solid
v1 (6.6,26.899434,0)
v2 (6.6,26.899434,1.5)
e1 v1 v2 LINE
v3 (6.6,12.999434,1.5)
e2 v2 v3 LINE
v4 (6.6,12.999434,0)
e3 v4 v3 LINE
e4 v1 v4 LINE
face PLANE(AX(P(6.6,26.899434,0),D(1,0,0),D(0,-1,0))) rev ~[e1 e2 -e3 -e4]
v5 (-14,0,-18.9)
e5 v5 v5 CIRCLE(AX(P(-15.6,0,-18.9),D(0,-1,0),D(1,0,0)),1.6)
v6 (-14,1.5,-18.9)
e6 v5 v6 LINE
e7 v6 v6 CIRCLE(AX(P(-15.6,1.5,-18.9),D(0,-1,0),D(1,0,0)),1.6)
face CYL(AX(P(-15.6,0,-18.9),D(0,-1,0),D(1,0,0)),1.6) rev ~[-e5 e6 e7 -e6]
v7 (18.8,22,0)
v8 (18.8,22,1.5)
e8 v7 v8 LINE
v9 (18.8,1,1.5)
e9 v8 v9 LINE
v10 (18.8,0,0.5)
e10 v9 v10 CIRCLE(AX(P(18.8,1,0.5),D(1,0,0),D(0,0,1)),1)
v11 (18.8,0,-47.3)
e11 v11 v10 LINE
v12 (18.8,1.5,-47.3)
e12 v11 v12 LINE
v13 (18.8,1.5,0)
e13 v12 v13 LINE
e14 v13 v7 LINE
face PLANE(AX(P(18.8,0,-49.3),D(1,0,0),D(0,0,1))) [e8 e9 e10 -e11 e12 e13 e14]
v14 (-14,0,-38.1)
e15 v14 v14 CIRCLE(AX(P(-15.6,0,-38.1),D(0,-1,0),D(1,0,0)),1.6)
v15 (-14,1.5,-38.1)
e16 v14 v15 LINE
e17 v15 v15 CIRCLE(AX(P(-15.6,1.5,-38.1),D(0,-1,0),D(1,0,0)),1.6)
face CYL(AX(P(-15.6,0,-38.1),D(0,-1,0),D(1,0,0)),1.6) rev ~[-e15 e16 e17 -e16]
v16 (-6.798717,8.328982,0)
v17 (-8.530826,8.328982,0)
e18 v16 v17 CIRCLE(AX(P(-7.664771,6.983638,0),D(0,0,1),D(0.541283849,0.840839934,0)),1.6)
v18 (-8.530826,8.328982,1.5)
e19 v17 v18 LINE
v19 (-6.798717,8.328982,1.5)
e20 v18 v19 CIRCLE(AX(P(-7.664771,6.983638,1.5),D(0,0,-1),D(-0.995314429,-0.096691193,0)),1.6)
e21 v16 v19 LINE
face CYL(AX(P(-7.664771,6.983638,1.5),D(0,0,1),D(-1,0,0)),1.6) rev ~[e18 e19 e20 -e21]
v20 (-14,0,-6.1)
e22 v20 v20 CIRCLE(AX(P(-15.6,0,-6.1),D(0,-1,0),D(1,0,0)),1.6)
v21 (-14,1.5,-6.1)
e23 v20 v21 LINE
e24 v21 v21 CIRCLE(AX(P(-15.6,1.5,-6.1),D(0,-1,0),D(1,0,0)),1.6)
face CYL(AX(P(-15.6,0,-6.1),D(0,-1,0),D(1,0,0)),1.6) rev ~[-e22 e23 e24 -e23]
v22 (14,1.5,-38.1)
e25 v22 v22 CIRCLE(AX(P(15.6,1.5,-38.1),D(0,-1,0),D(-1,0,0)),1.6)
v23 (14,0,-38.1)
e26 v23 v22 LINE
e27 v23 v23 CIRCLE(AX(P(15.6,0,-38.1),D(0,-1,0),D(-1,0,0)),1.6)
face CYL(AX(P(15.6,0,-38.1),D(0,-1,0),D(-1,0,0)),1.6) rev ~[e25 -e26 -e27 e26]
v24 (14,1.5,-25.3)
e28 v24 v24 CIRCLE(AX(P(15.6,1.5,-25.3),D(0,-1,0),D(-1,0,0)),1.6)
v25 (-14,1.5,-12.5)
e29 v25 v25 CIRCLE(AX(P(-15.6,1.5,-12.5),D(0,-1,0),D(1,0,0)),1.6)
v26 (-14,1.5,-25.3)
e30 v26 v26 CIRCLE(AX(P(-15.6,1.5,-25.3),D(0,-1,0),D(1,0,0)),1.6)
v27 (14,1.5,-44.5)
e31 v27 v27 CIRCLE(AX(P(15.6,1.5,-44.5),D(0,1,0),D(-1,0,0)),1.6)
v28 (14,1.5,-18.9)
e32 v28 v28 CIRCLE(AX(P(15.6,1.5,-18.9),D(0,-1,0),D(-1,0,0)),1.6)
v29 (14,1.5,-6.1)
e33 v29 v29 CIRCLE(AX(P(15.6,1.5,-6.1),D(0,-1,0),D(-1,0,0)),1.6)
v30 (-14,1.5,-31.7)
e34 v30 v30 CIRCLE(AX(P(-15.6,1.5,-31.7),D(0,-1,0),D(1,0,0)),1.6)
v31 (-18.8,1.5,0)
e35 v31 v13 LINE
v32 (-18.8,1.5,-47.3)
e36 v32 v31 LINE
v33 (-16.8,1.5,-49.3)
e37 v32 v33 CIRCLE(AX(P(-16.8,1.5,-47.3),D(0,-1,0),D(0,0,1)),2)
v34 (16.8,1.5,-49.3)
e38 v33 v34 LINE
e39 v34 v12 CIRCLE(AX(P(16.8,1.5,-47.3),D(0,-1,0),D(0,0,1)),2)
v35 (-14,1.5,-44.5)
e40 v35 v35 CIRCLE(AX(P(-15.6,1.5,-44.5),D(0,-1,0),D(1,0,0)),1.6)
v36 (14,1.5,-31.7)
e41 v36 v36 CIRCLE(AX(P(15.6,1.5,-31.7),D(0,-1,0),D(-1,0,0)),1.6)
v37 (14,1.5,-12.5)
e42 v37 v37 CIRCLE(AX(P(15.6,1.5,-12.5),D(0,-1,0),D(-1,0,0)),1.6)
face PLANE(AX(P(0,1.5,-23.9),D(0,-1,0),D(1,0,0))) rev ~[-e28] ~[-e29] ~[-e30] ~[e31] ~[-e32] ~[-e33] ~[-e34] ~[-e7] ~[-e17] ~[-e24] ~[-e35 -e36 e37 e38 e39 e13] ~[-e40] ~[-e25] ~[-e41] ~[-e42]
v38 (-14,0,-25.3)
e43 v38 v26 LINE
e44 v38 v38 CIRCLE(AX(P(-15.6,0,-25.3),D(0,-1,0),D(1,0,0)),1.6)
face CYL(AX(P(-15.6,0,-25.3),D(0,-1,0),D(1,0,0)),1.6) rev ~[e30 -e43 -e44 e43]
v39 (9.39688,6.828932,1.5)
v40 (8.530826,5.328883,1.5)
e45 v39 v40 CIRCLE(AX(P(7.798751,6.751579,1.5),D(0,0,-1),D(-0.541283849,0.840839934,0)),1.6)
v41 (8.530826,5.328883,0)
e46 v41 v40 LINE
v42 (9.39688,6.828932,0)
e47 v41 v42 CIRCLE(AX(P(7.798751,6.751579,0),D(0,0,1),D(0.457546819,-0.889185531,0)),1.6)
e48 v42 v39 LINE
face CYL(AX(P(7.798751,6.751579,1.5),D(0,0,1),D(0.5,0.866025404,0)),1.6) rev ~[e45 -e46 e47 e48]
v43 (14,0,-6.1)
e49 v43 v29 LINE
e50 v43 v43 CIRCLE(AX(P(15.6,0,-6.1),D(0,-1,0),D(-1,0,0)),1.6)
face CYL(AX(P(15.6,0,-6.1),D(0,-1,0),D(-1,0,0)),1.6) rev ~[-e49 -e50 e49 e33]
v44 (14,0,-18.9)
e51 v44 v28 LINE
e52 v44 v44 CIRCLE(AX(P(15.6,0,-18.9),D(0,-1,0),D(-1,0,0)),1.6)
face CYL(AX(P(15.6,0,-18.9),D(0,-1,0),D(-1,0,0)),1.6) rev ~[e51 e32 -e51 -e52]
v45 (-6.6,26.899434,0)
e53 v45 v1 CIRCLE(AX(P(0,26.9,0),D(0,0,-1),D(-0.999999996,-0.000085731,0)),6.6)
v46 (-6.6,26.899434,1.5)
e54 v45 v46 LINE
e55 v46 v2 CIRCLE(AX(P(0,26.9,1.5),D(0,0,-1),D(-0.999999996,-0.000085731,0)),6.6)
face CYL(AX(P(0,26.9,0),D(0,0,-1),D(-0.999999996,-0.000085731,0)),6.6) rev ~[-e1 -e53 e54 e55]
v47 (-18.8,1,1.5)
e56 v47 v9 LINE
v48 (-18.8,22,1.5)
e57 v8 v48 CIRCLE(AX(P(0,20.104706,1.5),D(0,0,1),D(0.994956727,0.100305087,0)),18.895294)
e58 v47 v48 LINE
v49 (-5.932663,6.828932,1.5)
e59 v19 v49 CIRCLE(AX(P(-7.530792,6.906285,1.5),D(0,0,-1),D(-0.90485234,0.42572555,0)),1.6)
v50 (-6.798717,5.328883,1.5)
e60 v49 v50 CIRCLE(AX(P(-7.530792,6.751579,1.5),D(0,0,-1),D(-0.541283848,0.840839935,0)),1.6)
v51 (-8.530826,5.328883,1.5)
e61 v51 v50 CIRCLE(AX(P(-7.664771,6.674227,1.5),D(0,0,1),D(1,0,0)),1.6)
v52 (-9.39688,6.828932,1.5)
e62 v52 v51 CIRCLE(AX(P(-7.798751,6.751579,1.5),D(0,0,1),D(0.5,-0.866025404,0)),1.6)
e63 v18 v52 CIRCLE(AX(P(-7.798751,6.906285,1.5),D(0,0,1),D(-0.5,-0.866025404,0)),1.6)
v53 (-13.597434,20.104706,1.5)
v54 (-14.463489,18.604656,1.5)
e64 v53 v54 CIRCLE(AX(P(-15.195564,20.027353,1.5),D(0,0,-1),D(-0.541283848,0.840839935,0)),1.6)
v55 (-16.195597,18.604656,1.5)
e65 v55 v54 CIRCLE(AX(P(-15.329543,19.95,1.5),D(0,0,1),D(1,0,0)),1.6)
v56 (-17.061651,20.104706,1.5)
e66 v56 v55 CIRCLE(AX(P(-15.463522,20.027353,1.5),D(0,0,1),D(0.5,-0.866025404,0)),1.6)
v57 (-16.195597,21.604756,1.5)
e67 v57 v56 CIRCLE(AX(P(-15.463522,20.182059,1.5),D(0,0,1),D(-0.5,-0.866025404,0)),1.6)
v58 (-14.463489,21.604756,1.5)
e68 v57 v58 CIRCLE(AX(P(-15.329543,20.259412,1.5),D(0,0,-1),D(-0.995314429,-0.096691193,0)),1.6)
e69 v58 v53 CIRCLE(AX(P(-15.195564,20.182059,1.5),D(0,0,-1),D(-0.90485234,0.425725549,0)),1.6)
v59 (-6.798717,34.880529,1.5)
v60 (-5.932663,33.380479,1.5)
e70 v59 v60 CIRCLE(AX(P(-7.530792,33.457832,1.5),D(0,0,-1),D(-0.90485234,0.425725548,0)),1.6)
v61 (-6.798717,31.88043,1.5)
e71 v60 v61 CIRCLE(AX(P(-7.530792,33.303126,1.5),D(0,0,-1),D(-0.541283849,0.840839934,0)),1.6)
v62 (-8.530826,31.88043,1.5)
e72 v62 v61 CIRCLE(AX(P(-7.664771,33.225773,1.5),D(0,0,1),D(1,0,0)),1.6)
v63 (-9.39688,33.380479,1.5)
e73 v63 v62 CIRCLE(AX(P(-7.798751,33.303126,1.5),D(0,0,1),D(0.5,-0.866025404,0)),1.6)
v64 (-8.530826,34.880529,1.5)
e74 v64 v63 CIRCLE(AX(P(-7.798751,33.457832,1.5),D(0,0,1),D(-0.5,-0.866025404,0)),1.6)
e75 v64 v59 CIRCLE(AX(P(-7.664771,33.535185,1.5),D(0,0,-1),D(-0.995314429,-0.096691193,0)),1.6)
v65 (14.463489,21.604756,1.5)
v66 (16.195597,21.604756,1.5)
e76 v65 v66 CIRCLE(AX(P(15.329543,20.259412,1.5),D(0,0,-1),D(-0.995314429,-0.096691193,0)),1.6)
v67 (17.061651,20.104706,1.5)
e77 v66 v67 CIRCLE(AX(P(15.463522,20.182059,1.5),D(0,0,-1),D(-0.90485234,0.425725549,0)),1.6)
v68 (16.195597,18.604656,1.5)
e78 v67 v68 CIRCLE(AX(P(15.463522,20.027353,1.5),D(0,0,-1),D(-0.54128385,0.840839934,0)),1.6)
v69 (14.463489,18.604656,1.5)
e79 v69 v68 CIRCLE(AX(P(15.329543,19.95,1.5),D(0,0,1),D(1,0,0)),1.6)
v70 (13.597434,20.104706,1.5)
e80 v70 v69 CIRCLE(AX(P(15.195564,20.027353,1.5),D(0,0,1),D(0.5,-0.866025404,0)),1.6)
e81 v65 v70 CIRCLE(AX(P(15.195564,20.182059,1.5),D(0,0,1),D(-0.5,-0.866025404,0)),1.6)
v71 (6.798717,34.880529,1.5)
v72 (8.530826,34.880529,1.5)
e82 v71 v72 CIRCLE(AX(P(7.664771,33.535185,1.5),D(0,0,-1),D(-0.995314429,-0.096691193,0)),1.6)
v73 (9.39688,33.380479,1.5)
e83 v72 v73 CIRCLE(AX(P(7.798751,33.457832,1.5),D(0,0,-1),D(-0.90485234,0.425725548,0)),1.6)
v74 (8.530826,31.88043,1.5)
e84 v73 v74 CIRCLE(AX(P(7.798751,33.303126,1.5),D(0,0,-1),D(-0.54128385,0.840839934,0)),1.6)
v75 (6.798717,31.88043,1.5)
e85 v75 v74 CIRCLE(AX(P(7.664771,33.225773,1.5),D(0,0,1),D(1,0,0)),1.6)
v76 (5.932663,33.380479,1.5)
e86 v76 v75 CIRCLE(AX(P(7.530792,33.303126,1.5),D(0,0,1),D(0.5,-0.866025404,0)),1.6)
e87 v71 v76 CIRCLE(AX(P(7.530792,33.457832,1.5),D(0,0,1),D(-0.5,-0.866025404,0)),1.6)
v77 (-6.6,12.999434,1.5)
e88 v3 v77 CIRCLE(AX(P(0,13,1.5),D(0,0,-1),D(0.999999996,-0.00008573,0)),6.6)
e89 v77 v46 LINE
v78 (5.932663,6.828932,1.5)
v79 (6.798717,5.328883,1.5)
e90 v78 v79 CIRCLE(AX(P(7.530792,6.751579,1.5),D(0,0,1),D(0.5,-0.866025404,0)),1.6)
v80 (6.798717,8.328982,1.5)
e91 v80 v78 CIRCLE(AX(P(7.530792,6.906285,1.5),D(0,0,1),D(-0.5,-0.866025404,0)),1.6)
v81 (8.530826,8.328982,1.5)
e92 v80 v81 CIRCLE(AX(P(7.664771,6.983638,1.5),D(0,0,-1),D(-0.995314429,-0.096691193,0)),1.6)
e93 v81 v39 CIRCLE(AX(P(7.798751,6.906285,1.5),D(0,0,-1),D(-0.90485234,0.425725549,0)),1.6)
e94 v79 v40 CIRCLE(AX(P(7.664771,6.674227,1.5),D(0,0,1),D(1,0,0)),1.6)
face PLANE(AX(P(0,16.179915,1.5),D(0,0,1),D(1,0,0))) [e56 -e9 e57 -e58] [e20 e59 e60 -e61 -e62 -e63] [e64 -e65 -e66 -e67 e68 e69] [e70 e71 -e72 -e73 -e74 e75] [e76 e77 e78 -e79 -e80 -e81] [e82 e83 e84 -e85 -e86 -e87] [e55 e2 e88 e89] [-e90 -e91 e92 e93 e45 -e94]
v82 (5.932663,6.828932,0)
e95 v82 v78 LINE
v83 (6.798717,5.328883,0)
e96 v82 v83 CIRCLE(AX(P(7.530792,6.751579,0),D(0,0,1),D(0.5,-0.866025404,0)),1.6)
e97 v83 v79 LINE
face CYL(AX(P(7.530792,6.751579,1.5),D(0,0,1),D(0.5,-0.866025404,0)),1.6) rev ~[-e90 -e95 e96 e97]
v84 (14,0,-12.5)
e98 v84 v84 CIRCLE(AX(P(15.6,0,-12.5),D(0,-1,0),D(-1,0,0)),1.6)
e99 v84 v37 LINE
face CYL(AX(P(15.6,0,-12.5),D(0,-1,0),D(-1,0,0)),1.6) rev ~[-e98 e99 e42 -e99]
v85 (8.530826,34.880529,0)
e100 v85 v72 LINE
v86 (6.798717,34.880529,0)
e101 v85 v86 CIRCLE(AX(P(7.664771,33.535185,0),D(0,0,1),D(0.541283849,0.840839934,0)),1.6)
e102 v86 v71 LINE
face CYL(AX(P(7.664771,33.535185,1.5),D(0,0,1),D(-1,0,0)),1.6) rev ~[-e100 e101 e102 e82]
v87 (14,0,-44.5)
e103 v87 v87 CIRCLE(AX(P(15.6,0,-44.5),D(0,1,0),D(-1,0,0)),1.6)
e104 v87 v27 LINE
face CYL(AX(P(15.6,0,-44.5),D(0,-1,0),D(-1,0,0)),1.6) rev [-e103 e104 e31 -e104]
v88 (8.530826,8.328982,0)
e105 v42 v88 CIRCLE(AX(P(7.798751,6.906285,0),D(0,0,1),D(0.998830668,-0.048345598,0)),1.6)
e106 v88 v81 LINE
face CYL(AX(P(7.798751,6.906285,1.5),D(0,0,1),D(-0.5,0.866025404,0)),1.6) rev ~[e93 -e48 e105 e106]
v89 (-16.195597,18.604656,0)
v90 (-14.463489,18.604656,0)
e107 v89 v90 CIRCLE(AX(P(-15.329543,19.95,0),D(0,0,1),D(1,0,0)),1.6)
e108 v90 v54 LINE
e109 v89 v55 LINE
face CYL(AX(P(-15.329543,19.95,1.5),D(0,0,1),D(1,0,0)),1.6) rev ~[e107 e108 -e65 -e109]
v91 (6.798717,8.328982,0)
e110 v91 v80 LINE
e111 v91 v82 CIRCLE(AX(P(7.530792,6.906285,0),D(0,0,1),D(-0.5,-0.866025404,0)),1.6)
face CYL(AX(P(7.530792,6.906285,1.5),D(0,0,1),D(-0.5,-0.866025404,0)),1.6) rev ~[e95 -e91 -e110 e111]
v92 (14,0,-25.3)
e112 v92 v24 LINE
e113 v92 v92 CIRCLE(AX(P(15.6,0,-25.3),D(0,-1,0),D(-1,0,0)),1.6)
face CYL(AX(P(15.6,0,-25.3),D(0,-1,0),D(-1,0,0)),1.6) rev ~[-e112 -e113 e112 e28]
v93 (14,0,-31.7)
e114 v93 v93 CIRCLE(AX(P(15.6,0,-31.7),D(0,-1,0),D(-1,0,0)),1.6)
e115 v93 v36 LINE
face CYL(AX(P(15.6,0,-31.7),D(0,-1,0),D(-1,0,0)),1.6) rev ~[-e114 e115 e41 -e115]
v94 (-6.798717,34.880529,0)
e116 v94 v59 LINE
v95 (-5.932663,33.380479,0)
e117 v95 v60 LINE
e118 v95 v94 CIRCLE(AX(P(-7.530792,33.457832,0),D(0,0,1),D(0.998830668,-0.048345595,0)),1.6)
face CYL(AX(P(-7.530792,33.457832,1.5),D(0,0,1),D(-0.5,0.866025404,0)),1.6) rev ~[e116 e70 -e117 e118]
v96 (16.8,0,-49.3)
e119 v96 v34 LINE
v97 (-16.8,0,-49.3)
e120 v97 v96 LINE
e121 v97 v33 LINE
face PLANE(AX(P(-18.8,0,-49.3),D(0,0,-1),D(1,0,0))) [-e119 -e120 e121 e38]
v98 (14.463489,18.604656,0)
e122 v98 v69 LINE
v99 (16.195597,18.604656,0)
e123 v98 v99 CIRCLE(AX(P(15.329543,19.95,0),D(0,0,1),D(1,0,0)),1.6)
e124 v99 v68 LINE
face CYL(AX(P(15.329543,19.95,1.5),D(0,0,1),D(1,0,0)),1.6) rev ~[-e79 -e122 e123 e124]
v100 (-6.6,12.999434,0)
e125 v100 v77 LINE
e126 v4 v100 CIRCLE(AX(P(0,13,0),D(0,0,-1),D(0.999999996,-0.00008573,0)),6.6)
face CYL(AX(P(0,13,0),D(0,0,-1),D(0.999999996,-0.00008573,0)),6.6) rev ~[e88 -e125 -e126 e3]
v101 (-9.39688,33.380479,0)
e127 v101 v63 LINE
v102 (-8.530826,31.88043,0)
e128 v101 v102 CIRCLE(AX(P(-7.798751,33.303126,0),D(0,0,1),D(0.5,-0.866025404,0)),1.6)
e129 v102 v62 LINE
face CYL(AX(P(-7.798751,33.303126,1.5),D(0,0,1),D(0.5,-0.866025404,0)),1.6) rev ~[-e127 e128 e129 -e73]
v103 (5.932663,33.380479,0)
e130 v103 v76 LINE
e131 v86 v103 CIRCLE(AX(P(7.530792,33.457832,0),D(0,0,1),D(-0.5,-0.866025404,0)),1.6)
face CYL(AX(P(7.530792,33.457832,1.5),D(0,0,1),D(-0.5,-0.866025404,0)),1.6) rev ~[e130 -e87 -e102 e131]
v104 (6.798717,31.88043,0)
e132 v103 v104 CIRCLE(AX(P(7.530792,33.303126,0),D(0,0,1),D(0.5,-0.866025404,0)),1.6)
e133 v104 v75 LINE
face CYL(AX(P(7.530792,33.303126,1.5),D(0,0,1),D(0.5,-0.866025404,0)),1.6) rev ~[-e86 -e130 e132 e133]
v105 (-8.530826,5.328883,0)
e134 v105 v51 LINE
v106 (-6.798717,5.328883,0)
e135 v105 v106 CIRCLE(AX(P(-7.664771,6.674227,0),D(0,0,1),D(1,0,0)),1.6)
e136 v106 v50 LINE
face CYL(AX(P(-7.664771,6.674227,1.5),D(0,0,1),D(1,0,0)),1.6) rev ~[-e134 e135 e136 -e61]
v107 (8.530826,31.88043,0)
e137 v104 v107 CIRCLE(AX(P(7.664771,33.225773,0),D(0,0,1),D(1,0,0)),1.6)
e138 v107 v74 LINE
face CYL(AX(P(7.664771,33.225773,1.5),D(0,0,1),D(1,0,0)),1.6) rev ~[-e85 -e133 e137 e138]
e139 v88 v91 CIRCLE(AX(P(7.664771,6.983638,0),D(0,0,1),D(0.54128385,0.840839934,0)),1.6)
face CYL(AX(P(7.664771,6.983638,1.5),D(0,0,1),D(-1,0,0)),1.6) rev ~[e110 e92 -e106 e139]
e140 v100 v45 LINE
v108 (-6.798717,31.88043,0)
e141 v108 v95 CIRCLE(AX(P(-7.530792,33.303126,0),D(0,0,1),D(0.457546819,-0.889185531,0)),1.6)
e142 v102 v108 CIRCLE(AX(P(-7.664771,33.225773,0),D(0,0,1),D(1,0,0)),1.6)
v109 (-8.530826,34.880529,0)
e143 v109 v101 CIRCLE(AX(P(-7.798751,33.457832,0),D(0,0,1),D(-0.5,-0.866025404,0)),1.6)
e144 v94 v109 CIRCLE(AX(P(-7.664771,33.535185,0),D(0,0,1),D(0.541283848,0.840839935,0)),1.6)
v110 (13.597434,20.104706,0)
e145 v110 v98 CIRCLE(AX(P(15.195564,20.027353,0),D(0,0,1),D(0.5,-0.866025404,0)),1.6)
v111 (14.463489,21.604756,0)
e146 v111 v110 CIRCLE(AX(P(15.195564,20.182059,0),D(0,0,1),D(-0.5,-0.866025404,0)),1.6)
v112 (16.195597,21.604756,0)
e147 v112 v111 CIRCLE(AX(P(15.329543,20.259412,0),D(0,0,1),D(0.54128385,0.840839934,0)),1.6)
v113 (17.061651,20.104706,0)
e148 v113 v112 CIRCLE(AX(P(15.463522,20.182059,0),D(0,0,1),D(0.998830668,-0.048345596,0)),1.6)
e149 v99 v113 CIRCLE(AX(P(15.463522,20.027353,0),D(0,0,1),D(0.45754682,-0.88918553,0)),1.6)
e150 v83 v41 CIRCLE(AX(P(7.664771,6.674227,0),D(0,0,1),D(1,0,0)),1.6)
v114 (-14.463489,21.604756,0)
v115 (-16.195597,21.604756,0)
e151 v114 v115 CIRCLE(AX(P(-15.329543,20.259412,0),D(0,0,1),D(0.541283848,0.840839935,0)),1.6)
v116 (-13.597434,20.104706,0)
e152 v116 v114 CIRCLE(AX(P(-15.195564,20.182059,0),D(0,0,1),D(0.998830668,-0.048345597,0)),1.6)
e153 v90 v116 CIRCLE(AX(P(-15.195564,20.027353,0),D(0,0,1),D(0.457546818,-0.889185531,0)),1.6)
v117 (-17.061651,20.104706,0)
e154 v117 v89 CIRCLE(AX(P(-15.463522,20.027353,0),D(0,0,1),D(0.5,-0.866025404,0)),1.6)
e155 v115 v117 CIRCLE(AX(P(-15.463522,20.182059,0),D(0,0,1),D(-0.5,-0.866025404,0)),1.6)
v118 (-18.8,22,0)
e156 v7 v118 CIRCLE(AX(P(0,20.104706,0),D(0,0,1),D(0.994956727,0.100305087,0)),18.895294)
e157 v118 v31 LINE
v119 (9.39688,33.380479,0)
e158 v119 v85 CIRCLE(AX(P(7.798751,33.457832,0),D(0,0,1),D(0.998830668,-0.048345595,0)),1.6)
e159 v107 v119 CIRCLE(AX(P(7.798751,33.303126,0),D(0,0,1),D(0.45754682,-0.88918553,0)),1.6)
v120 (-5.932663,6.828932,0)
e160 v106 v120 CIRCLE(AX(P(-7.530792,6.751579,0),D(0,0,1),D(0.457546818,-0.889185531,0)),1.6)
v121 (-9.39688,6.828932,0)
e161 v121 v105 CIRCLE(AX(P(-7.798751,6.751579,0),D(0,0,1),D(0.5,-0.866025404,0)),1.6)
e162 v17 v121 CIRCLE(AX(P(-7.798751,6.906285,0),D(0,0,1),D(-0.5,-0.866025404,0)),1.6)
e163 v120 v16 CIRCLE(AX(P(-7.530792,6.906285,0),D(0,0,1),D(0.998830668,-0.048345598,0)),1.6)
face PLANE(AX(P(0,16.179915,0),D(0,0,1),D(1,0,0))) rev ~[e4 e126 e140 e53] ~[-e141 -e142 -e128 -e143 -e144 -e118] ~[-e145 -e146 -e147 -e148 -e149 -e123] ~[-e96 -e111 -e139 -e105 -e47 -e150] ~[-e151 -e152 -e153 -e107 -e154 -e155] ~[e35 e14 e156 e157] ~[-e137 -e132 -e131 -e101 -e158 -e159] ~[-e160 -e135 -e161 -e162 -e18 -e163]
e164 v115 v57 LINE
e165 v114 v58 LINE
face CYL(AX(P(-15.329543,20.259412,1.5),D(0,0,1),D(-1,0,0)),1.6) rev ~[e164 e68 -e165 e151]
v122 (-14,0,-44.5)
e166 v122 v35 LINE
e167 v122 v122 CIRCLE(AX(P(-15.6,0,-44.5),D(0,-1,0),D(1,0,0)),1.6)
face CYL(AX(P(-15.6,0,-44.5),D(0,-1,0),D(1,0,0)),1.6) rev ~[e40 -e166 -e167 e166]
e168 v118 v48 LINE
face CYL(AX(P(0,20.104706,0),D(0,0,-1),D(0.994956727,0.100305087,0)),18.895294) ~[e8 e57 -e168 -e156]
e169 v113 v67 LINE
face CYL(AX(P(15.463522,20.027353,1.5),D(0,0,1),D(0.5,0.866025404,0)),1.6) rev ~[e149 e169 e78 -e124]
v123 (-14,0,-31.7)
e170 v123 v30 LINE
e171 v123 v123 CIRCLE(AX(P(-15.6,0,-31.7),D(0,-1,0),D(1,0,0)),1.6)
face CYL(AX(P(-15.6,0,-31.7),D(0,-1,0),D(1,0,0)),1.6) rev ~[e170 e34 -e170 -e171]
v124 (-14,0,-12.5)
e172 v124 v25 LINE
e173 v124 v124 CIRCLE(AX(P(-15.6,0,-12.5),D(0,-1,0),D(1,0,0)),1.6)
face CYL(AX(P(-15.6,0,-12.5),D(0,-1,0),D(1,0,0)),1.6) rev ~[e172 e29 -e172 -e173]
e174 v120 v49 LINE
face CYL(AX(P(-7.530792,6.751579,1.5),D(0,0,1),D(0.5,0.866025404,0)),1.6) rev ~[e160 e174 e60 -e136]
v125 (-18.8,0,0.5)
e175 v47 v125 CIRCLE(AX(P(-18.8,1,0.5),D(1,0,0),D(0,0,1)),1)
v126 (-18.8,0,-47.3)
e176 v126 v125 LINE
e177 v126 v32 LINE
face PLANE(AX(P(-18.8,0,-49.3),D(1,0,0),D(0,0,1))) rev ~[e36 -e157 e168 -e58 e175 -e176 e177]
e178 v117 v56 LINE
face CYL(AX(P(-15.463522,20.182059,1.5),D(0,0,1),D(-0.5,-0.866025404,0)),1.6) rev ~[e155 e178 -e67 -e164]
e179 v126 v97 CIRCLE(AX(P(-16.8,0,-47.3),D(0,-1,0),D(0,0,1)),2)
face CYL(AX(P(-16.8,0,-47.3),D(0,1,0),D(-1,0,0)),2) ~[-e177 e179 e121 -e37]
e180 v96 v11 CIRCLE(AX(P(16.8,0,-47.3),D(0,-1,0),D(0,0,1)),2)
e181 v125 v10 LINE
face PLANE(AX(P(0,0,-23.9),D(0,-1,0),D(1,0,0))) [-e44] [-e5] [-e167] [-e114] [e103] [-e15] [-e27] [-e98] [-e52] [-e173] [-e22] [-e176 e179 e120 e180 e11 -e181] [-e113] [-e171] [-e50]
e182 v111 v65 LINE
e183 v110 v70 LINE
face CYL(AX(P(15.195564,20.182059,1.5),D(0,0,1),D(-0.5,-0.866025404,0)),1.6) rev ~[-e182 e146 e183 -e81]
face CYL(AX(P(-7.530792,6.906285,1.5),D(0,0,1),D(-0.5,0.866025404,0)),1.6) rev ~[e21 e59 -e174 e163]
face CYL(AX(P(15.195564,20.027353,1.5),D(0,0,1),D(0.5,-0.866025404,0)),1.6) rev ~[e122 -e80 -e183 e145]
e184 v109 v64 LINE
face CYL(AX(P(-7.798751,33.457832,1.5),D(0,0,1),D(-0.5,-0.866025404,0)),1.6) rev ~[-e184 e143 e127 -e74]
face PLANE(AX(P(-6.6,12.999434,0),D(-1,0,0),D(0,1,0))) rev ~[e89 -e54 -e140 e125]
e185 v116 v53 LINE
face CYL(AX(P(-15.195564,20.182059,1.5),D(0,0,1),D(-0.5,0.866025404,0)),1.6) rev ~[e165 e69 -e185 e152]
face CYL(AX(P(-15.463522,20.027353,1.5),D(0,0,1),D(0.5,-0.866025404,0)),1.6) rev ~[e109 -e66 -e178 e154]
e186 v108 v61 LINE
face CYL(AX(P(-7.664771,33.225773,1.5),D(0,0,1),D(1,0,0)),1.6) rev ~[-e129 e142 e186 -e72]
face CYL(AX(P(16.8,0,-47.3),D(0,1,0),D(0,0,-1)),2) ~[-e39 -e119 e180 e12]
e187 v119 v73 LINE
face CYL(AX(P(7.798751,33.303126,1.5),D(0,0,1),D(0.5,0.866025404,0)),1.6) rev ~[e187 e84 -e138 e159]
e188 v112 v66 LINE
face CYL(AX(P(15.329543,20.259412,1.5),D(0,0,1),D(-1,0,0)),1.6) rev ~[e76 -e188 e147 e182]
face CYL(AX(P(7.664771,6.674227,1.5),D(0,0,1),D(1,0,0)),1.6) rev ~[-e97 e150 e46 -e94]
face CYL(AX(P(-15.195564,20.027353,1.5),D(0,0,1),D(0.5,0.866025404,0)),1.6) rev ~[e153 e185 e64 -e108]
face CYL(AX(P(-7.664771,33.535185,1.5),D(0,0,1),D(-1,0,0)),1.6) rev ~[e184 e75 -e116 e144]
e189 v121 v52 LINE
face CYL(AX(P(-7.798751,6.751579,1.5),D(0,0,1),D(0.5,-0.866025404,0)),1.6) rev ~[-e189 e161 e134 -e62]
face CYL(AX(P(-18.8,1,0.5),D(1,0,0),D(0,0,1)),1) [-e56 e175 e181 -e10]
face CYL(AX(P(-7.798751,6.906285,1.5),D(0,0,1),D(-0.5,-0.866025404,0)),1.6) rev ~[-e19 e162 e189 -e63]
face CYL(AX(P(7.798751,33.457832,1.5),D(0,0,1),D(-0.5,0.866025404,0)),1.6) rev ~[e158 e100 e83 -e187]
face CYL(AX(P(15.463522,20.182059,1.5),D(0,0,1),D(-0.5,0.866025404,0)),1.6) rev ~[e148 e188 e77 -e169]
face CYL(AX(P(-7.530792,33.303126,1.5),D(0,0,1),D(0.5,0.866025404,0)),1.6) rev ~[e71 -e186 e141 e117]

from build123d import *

# Parameters (mm, degrees)
BOSS_EXTRUDE1_DEPTH     = 1.5
SKETCH2_W               = 37.6
SKETCH2_H               = 50.8
BOSS_EXTRUDE2_DEPTH     = 1.5
FILLET1_R               = 1
FILLET2_R               = 2
SKETCH3_R               = 1.6
CUT_EXTRUDE1_DEPTH      = 1.5
LPATTERN1_COUNT         = 7
LPATTERN1_PITCH         = 6.4
MIRROR1_COPY_1_SKETCH_R = 1.6
MIRROR1_COPY_1_DEPTH    = 1.5
MIRROR1_COPY_2_SKETCH_R = 1.6
MIRROR1_COPY_2_DEPTH    = 1.5
MIRROR1_COPY_3_SKETCH_R = 1.6
MIRROR1_COPY_3_DEPTH    = 1.5
MIRROR1_COPY_4_SKETCH_R = 1.6
MIRROR1_COPY_4_DEPTH    = 1.5
MIRROR1_COPY_5_SKETCH_R = 1.6
MIRROR1_COPY_5_DEPTH    = 1.5
MIRROR1_COPY_6_SKETCH_R = 1.6
MIRROR1_COPY_6_DEPTH    = 1.5
SKETCH4_R               = 1.6
CUT_EXTRUDE2_DEPTH      = 1.5
CIRPATTERN1_COUNT       = 6


with BuildPart() as part:
    # Sketch1 → Boss-Extrude1 (new body)
    with BuildSketch(Plane.XY):
        with BuildLine():
            Line((-18.8, 0), (18.8, 0))
            Line((18.8, 0), (18.8, 22))
            ThreePointArc((18.8, 22), (0, 39), (-18.8, 22))
            Line((-18.8, 22), (-18.8, 0))
        make_face()
        with BuildLine():
            Line((-6.6, 12.999434154), (-6.6, 26.899434154))
            ThreePointArc((-6.6, 26.899434154), (0, 33.5), (6.6, 26.899434154))
            Line((6.6, 26.899434154), (6.6, 12.999434154))
            ThreePointArc((6.6, 12.999434154), (0, 6.399999946), (-6.6, 12.999434154))
        make_face(mode=Mode.SUBTRACT)
    extrude(amount=BOSS_EXTRUDE1_DEPTH)

    # Sketch2 → Boss-Extrude2 (add)
    with BuildSketch(Plane.XZ):
        with Locations((0, -23.9)):
            Rectangle(SKETCH2_W, SKETCH2_H)
    extrude(amount=-BOSS_EXTRUDE2_DEPTH)

    # Fillet1
    fillet1_edges = [part.edges().sort_by_distance(p)[0] for p in [
        (0, 0, 1.5),
    ]]
    fillet(fillet1_edges, radius=FILLET1_R)

    # Fillet2
    fillet2_edges = [part.edges().sort_by_distance(p)[0] for p in [
        (-18.8, 0.75, -49.3),
        (18.8, 0.75, -49.3),
    ]]
    fillet(fillet2_edges, radius=FILLET2_R)

    # Sketch3 → Cut-Extrude1 (cut)
    with BuildSketch(Plane.XZ):
        with Locations((-15.6, -44.5)):
            Circle(SKETCH3_R)
    cut_extrude1 = extrude(amount=-CUT_EXTRUDE1_DEPTH, mode=Mode.SUBTRACT)

    # LPattern1: Cut-Extrude1 ×7
    with Locations(*[(0, 0, i * LPATTERN1_PITCH) for i in range(1, LPATTERN1_COUNT)]):
        add(cut_extrude1, mode=Mode.SUBTRACT)

    # Mirror1: Cut-Extrude1 across plane
    add(cut_extrude1.mirror(Plane(origin=(0, 0, 0), x_dir=(0, 0, 1), z_dir=(1, 0, 0))), mode=Mode.SUBTRACT)

    # Mirror1 copy 1 sketch → Mirror1 copy 1 (cut)
    with BuildSketch(Plane(origin=(0, 0, 6.4), x_dir=(-1, 0, 0), z_dir=(0, -1, 0))):
        with Locations((-15.6, 44.5)):
            Circle(MIRROR1_COPY_1_SKETCH_R)
    extrude(amount=-MIRROR1_COPY_1_DEPTH, mode=Mode.SUBTRACT)

    # Mirror1 copy 2 sketch → Mirror1 copy 2 (cut)
    with BuildSketch(Plane(origin=(0, 0, 12.8), x_dir=(-1, 0, 0), z_dir=(0, -1, 0))):
        with Locations((-15.6, 44.5)):
            Circle(MIRROR1_COPY_2_SKETCH_R)
    extrude(amount=-MIRROR1_COPY_2_DEPTH, mode=Mode.SUBTRACT)

    # Mirror1 copy 3 sketch → Mirror1 copy 3 (cut)
    with BuildSketch(Plane(origin=(0, 0, 19.2), x_dir=(-1, 0, 0), z_dir=(0, -1, 0))):
        with Locations((-15.6, 44.5)):
            Circle(MIRROR1_COPY_3_SKETCH_R)
    extrude(amount=-MIRROR1_COPY_3_DEPTH, mode=Mode.SUBTRACT)

    # Mirror1 copy 4 sketch → Mirror1 copy 4 (cut)
    with BuildSketch(Plane(origin=(0, 0, 25.6), x_dir=(-1, 0, 0), z_dir=(0, -1, 0))):
        with Locations((-15.6, 44.5)):
            Circle(MIRROR1_COPY_4_SKETCH_R)
    extrude(amount=-MIRROR1_COPY_4_DEPTH, mode=Mode.SUBTRACT)

    # Mirror1 copy 5 sketch → Mirror1 copy 5 (cut)
    with BuildSketch(Plane(origin=(0, 0, 32), x_dir=(-1, 0, 0), z_dir=(0, -1, 0))):
        with Locations((-15.6, 44.5)):
            Circle(MIRROR1_COPY_5_SKETCH_R)
    extrude(amount=-MIRROR1_COPY_5_DEPTH, mode=Mode.SUBTRACT)

    # Mirror1 copy 6 sketch → Mirror1 copy 6 (cut)
    with BuildSketch(Plane(origin=(0, 0, 38.4), x_dir=(-1, 0, 0), z_dir=(0, -1, 0))):
        with Locations((-15.6, 44.5)):
            Circle(MIRROR1_COPY_6_SKETCH_R)
    extrude(amount=-MIRROR1_COPY_6_DEPTH, mode=Mode.SUBTRACT)

    # Sketch4 → Cut-Extrude2 (cut)
    with BuildSketch(Plane.XY.offset(1.5)):
        with Locations((7.664771385, 33.22577344)):
            Circle(SKETCH4_R)
        with Locations((15.32954277, 19.949999973)):
            Circle(SKETCH4_R)
        with Locations((7.664771385, 6.674226506)):
            Circle(SKETCH4_R)
        with Locations((-7.664771385, 6.674226506)):
            Circle(SKETCH4_R)
        with Locations((-15.32954277, 19.949999973)):
            Circle(SKETCH4_R)
        with Locations((-7.664771385, 33.22577344)):
            Circle(SKETCH4_R)
    cut_extrude2 = extrude(amount=-CUT_EXTRUDE2_DEPTH, mode=Mode.SUBTRACT)

    # CirPattern1: Cut-Extrude2 ×6 about axis
    cirpattern1_axis = Axis((0, 20.104705882, 0), (0, 0, 1))
    for i in range(1, CIRPATTERN1_COUNT):
        add(cut_extrude2.rotate(cirpattern1_axis, i * 360 / CIRPATTERN1_COUNT), mode=Mode.SUBTRACT)


solid = part.part
